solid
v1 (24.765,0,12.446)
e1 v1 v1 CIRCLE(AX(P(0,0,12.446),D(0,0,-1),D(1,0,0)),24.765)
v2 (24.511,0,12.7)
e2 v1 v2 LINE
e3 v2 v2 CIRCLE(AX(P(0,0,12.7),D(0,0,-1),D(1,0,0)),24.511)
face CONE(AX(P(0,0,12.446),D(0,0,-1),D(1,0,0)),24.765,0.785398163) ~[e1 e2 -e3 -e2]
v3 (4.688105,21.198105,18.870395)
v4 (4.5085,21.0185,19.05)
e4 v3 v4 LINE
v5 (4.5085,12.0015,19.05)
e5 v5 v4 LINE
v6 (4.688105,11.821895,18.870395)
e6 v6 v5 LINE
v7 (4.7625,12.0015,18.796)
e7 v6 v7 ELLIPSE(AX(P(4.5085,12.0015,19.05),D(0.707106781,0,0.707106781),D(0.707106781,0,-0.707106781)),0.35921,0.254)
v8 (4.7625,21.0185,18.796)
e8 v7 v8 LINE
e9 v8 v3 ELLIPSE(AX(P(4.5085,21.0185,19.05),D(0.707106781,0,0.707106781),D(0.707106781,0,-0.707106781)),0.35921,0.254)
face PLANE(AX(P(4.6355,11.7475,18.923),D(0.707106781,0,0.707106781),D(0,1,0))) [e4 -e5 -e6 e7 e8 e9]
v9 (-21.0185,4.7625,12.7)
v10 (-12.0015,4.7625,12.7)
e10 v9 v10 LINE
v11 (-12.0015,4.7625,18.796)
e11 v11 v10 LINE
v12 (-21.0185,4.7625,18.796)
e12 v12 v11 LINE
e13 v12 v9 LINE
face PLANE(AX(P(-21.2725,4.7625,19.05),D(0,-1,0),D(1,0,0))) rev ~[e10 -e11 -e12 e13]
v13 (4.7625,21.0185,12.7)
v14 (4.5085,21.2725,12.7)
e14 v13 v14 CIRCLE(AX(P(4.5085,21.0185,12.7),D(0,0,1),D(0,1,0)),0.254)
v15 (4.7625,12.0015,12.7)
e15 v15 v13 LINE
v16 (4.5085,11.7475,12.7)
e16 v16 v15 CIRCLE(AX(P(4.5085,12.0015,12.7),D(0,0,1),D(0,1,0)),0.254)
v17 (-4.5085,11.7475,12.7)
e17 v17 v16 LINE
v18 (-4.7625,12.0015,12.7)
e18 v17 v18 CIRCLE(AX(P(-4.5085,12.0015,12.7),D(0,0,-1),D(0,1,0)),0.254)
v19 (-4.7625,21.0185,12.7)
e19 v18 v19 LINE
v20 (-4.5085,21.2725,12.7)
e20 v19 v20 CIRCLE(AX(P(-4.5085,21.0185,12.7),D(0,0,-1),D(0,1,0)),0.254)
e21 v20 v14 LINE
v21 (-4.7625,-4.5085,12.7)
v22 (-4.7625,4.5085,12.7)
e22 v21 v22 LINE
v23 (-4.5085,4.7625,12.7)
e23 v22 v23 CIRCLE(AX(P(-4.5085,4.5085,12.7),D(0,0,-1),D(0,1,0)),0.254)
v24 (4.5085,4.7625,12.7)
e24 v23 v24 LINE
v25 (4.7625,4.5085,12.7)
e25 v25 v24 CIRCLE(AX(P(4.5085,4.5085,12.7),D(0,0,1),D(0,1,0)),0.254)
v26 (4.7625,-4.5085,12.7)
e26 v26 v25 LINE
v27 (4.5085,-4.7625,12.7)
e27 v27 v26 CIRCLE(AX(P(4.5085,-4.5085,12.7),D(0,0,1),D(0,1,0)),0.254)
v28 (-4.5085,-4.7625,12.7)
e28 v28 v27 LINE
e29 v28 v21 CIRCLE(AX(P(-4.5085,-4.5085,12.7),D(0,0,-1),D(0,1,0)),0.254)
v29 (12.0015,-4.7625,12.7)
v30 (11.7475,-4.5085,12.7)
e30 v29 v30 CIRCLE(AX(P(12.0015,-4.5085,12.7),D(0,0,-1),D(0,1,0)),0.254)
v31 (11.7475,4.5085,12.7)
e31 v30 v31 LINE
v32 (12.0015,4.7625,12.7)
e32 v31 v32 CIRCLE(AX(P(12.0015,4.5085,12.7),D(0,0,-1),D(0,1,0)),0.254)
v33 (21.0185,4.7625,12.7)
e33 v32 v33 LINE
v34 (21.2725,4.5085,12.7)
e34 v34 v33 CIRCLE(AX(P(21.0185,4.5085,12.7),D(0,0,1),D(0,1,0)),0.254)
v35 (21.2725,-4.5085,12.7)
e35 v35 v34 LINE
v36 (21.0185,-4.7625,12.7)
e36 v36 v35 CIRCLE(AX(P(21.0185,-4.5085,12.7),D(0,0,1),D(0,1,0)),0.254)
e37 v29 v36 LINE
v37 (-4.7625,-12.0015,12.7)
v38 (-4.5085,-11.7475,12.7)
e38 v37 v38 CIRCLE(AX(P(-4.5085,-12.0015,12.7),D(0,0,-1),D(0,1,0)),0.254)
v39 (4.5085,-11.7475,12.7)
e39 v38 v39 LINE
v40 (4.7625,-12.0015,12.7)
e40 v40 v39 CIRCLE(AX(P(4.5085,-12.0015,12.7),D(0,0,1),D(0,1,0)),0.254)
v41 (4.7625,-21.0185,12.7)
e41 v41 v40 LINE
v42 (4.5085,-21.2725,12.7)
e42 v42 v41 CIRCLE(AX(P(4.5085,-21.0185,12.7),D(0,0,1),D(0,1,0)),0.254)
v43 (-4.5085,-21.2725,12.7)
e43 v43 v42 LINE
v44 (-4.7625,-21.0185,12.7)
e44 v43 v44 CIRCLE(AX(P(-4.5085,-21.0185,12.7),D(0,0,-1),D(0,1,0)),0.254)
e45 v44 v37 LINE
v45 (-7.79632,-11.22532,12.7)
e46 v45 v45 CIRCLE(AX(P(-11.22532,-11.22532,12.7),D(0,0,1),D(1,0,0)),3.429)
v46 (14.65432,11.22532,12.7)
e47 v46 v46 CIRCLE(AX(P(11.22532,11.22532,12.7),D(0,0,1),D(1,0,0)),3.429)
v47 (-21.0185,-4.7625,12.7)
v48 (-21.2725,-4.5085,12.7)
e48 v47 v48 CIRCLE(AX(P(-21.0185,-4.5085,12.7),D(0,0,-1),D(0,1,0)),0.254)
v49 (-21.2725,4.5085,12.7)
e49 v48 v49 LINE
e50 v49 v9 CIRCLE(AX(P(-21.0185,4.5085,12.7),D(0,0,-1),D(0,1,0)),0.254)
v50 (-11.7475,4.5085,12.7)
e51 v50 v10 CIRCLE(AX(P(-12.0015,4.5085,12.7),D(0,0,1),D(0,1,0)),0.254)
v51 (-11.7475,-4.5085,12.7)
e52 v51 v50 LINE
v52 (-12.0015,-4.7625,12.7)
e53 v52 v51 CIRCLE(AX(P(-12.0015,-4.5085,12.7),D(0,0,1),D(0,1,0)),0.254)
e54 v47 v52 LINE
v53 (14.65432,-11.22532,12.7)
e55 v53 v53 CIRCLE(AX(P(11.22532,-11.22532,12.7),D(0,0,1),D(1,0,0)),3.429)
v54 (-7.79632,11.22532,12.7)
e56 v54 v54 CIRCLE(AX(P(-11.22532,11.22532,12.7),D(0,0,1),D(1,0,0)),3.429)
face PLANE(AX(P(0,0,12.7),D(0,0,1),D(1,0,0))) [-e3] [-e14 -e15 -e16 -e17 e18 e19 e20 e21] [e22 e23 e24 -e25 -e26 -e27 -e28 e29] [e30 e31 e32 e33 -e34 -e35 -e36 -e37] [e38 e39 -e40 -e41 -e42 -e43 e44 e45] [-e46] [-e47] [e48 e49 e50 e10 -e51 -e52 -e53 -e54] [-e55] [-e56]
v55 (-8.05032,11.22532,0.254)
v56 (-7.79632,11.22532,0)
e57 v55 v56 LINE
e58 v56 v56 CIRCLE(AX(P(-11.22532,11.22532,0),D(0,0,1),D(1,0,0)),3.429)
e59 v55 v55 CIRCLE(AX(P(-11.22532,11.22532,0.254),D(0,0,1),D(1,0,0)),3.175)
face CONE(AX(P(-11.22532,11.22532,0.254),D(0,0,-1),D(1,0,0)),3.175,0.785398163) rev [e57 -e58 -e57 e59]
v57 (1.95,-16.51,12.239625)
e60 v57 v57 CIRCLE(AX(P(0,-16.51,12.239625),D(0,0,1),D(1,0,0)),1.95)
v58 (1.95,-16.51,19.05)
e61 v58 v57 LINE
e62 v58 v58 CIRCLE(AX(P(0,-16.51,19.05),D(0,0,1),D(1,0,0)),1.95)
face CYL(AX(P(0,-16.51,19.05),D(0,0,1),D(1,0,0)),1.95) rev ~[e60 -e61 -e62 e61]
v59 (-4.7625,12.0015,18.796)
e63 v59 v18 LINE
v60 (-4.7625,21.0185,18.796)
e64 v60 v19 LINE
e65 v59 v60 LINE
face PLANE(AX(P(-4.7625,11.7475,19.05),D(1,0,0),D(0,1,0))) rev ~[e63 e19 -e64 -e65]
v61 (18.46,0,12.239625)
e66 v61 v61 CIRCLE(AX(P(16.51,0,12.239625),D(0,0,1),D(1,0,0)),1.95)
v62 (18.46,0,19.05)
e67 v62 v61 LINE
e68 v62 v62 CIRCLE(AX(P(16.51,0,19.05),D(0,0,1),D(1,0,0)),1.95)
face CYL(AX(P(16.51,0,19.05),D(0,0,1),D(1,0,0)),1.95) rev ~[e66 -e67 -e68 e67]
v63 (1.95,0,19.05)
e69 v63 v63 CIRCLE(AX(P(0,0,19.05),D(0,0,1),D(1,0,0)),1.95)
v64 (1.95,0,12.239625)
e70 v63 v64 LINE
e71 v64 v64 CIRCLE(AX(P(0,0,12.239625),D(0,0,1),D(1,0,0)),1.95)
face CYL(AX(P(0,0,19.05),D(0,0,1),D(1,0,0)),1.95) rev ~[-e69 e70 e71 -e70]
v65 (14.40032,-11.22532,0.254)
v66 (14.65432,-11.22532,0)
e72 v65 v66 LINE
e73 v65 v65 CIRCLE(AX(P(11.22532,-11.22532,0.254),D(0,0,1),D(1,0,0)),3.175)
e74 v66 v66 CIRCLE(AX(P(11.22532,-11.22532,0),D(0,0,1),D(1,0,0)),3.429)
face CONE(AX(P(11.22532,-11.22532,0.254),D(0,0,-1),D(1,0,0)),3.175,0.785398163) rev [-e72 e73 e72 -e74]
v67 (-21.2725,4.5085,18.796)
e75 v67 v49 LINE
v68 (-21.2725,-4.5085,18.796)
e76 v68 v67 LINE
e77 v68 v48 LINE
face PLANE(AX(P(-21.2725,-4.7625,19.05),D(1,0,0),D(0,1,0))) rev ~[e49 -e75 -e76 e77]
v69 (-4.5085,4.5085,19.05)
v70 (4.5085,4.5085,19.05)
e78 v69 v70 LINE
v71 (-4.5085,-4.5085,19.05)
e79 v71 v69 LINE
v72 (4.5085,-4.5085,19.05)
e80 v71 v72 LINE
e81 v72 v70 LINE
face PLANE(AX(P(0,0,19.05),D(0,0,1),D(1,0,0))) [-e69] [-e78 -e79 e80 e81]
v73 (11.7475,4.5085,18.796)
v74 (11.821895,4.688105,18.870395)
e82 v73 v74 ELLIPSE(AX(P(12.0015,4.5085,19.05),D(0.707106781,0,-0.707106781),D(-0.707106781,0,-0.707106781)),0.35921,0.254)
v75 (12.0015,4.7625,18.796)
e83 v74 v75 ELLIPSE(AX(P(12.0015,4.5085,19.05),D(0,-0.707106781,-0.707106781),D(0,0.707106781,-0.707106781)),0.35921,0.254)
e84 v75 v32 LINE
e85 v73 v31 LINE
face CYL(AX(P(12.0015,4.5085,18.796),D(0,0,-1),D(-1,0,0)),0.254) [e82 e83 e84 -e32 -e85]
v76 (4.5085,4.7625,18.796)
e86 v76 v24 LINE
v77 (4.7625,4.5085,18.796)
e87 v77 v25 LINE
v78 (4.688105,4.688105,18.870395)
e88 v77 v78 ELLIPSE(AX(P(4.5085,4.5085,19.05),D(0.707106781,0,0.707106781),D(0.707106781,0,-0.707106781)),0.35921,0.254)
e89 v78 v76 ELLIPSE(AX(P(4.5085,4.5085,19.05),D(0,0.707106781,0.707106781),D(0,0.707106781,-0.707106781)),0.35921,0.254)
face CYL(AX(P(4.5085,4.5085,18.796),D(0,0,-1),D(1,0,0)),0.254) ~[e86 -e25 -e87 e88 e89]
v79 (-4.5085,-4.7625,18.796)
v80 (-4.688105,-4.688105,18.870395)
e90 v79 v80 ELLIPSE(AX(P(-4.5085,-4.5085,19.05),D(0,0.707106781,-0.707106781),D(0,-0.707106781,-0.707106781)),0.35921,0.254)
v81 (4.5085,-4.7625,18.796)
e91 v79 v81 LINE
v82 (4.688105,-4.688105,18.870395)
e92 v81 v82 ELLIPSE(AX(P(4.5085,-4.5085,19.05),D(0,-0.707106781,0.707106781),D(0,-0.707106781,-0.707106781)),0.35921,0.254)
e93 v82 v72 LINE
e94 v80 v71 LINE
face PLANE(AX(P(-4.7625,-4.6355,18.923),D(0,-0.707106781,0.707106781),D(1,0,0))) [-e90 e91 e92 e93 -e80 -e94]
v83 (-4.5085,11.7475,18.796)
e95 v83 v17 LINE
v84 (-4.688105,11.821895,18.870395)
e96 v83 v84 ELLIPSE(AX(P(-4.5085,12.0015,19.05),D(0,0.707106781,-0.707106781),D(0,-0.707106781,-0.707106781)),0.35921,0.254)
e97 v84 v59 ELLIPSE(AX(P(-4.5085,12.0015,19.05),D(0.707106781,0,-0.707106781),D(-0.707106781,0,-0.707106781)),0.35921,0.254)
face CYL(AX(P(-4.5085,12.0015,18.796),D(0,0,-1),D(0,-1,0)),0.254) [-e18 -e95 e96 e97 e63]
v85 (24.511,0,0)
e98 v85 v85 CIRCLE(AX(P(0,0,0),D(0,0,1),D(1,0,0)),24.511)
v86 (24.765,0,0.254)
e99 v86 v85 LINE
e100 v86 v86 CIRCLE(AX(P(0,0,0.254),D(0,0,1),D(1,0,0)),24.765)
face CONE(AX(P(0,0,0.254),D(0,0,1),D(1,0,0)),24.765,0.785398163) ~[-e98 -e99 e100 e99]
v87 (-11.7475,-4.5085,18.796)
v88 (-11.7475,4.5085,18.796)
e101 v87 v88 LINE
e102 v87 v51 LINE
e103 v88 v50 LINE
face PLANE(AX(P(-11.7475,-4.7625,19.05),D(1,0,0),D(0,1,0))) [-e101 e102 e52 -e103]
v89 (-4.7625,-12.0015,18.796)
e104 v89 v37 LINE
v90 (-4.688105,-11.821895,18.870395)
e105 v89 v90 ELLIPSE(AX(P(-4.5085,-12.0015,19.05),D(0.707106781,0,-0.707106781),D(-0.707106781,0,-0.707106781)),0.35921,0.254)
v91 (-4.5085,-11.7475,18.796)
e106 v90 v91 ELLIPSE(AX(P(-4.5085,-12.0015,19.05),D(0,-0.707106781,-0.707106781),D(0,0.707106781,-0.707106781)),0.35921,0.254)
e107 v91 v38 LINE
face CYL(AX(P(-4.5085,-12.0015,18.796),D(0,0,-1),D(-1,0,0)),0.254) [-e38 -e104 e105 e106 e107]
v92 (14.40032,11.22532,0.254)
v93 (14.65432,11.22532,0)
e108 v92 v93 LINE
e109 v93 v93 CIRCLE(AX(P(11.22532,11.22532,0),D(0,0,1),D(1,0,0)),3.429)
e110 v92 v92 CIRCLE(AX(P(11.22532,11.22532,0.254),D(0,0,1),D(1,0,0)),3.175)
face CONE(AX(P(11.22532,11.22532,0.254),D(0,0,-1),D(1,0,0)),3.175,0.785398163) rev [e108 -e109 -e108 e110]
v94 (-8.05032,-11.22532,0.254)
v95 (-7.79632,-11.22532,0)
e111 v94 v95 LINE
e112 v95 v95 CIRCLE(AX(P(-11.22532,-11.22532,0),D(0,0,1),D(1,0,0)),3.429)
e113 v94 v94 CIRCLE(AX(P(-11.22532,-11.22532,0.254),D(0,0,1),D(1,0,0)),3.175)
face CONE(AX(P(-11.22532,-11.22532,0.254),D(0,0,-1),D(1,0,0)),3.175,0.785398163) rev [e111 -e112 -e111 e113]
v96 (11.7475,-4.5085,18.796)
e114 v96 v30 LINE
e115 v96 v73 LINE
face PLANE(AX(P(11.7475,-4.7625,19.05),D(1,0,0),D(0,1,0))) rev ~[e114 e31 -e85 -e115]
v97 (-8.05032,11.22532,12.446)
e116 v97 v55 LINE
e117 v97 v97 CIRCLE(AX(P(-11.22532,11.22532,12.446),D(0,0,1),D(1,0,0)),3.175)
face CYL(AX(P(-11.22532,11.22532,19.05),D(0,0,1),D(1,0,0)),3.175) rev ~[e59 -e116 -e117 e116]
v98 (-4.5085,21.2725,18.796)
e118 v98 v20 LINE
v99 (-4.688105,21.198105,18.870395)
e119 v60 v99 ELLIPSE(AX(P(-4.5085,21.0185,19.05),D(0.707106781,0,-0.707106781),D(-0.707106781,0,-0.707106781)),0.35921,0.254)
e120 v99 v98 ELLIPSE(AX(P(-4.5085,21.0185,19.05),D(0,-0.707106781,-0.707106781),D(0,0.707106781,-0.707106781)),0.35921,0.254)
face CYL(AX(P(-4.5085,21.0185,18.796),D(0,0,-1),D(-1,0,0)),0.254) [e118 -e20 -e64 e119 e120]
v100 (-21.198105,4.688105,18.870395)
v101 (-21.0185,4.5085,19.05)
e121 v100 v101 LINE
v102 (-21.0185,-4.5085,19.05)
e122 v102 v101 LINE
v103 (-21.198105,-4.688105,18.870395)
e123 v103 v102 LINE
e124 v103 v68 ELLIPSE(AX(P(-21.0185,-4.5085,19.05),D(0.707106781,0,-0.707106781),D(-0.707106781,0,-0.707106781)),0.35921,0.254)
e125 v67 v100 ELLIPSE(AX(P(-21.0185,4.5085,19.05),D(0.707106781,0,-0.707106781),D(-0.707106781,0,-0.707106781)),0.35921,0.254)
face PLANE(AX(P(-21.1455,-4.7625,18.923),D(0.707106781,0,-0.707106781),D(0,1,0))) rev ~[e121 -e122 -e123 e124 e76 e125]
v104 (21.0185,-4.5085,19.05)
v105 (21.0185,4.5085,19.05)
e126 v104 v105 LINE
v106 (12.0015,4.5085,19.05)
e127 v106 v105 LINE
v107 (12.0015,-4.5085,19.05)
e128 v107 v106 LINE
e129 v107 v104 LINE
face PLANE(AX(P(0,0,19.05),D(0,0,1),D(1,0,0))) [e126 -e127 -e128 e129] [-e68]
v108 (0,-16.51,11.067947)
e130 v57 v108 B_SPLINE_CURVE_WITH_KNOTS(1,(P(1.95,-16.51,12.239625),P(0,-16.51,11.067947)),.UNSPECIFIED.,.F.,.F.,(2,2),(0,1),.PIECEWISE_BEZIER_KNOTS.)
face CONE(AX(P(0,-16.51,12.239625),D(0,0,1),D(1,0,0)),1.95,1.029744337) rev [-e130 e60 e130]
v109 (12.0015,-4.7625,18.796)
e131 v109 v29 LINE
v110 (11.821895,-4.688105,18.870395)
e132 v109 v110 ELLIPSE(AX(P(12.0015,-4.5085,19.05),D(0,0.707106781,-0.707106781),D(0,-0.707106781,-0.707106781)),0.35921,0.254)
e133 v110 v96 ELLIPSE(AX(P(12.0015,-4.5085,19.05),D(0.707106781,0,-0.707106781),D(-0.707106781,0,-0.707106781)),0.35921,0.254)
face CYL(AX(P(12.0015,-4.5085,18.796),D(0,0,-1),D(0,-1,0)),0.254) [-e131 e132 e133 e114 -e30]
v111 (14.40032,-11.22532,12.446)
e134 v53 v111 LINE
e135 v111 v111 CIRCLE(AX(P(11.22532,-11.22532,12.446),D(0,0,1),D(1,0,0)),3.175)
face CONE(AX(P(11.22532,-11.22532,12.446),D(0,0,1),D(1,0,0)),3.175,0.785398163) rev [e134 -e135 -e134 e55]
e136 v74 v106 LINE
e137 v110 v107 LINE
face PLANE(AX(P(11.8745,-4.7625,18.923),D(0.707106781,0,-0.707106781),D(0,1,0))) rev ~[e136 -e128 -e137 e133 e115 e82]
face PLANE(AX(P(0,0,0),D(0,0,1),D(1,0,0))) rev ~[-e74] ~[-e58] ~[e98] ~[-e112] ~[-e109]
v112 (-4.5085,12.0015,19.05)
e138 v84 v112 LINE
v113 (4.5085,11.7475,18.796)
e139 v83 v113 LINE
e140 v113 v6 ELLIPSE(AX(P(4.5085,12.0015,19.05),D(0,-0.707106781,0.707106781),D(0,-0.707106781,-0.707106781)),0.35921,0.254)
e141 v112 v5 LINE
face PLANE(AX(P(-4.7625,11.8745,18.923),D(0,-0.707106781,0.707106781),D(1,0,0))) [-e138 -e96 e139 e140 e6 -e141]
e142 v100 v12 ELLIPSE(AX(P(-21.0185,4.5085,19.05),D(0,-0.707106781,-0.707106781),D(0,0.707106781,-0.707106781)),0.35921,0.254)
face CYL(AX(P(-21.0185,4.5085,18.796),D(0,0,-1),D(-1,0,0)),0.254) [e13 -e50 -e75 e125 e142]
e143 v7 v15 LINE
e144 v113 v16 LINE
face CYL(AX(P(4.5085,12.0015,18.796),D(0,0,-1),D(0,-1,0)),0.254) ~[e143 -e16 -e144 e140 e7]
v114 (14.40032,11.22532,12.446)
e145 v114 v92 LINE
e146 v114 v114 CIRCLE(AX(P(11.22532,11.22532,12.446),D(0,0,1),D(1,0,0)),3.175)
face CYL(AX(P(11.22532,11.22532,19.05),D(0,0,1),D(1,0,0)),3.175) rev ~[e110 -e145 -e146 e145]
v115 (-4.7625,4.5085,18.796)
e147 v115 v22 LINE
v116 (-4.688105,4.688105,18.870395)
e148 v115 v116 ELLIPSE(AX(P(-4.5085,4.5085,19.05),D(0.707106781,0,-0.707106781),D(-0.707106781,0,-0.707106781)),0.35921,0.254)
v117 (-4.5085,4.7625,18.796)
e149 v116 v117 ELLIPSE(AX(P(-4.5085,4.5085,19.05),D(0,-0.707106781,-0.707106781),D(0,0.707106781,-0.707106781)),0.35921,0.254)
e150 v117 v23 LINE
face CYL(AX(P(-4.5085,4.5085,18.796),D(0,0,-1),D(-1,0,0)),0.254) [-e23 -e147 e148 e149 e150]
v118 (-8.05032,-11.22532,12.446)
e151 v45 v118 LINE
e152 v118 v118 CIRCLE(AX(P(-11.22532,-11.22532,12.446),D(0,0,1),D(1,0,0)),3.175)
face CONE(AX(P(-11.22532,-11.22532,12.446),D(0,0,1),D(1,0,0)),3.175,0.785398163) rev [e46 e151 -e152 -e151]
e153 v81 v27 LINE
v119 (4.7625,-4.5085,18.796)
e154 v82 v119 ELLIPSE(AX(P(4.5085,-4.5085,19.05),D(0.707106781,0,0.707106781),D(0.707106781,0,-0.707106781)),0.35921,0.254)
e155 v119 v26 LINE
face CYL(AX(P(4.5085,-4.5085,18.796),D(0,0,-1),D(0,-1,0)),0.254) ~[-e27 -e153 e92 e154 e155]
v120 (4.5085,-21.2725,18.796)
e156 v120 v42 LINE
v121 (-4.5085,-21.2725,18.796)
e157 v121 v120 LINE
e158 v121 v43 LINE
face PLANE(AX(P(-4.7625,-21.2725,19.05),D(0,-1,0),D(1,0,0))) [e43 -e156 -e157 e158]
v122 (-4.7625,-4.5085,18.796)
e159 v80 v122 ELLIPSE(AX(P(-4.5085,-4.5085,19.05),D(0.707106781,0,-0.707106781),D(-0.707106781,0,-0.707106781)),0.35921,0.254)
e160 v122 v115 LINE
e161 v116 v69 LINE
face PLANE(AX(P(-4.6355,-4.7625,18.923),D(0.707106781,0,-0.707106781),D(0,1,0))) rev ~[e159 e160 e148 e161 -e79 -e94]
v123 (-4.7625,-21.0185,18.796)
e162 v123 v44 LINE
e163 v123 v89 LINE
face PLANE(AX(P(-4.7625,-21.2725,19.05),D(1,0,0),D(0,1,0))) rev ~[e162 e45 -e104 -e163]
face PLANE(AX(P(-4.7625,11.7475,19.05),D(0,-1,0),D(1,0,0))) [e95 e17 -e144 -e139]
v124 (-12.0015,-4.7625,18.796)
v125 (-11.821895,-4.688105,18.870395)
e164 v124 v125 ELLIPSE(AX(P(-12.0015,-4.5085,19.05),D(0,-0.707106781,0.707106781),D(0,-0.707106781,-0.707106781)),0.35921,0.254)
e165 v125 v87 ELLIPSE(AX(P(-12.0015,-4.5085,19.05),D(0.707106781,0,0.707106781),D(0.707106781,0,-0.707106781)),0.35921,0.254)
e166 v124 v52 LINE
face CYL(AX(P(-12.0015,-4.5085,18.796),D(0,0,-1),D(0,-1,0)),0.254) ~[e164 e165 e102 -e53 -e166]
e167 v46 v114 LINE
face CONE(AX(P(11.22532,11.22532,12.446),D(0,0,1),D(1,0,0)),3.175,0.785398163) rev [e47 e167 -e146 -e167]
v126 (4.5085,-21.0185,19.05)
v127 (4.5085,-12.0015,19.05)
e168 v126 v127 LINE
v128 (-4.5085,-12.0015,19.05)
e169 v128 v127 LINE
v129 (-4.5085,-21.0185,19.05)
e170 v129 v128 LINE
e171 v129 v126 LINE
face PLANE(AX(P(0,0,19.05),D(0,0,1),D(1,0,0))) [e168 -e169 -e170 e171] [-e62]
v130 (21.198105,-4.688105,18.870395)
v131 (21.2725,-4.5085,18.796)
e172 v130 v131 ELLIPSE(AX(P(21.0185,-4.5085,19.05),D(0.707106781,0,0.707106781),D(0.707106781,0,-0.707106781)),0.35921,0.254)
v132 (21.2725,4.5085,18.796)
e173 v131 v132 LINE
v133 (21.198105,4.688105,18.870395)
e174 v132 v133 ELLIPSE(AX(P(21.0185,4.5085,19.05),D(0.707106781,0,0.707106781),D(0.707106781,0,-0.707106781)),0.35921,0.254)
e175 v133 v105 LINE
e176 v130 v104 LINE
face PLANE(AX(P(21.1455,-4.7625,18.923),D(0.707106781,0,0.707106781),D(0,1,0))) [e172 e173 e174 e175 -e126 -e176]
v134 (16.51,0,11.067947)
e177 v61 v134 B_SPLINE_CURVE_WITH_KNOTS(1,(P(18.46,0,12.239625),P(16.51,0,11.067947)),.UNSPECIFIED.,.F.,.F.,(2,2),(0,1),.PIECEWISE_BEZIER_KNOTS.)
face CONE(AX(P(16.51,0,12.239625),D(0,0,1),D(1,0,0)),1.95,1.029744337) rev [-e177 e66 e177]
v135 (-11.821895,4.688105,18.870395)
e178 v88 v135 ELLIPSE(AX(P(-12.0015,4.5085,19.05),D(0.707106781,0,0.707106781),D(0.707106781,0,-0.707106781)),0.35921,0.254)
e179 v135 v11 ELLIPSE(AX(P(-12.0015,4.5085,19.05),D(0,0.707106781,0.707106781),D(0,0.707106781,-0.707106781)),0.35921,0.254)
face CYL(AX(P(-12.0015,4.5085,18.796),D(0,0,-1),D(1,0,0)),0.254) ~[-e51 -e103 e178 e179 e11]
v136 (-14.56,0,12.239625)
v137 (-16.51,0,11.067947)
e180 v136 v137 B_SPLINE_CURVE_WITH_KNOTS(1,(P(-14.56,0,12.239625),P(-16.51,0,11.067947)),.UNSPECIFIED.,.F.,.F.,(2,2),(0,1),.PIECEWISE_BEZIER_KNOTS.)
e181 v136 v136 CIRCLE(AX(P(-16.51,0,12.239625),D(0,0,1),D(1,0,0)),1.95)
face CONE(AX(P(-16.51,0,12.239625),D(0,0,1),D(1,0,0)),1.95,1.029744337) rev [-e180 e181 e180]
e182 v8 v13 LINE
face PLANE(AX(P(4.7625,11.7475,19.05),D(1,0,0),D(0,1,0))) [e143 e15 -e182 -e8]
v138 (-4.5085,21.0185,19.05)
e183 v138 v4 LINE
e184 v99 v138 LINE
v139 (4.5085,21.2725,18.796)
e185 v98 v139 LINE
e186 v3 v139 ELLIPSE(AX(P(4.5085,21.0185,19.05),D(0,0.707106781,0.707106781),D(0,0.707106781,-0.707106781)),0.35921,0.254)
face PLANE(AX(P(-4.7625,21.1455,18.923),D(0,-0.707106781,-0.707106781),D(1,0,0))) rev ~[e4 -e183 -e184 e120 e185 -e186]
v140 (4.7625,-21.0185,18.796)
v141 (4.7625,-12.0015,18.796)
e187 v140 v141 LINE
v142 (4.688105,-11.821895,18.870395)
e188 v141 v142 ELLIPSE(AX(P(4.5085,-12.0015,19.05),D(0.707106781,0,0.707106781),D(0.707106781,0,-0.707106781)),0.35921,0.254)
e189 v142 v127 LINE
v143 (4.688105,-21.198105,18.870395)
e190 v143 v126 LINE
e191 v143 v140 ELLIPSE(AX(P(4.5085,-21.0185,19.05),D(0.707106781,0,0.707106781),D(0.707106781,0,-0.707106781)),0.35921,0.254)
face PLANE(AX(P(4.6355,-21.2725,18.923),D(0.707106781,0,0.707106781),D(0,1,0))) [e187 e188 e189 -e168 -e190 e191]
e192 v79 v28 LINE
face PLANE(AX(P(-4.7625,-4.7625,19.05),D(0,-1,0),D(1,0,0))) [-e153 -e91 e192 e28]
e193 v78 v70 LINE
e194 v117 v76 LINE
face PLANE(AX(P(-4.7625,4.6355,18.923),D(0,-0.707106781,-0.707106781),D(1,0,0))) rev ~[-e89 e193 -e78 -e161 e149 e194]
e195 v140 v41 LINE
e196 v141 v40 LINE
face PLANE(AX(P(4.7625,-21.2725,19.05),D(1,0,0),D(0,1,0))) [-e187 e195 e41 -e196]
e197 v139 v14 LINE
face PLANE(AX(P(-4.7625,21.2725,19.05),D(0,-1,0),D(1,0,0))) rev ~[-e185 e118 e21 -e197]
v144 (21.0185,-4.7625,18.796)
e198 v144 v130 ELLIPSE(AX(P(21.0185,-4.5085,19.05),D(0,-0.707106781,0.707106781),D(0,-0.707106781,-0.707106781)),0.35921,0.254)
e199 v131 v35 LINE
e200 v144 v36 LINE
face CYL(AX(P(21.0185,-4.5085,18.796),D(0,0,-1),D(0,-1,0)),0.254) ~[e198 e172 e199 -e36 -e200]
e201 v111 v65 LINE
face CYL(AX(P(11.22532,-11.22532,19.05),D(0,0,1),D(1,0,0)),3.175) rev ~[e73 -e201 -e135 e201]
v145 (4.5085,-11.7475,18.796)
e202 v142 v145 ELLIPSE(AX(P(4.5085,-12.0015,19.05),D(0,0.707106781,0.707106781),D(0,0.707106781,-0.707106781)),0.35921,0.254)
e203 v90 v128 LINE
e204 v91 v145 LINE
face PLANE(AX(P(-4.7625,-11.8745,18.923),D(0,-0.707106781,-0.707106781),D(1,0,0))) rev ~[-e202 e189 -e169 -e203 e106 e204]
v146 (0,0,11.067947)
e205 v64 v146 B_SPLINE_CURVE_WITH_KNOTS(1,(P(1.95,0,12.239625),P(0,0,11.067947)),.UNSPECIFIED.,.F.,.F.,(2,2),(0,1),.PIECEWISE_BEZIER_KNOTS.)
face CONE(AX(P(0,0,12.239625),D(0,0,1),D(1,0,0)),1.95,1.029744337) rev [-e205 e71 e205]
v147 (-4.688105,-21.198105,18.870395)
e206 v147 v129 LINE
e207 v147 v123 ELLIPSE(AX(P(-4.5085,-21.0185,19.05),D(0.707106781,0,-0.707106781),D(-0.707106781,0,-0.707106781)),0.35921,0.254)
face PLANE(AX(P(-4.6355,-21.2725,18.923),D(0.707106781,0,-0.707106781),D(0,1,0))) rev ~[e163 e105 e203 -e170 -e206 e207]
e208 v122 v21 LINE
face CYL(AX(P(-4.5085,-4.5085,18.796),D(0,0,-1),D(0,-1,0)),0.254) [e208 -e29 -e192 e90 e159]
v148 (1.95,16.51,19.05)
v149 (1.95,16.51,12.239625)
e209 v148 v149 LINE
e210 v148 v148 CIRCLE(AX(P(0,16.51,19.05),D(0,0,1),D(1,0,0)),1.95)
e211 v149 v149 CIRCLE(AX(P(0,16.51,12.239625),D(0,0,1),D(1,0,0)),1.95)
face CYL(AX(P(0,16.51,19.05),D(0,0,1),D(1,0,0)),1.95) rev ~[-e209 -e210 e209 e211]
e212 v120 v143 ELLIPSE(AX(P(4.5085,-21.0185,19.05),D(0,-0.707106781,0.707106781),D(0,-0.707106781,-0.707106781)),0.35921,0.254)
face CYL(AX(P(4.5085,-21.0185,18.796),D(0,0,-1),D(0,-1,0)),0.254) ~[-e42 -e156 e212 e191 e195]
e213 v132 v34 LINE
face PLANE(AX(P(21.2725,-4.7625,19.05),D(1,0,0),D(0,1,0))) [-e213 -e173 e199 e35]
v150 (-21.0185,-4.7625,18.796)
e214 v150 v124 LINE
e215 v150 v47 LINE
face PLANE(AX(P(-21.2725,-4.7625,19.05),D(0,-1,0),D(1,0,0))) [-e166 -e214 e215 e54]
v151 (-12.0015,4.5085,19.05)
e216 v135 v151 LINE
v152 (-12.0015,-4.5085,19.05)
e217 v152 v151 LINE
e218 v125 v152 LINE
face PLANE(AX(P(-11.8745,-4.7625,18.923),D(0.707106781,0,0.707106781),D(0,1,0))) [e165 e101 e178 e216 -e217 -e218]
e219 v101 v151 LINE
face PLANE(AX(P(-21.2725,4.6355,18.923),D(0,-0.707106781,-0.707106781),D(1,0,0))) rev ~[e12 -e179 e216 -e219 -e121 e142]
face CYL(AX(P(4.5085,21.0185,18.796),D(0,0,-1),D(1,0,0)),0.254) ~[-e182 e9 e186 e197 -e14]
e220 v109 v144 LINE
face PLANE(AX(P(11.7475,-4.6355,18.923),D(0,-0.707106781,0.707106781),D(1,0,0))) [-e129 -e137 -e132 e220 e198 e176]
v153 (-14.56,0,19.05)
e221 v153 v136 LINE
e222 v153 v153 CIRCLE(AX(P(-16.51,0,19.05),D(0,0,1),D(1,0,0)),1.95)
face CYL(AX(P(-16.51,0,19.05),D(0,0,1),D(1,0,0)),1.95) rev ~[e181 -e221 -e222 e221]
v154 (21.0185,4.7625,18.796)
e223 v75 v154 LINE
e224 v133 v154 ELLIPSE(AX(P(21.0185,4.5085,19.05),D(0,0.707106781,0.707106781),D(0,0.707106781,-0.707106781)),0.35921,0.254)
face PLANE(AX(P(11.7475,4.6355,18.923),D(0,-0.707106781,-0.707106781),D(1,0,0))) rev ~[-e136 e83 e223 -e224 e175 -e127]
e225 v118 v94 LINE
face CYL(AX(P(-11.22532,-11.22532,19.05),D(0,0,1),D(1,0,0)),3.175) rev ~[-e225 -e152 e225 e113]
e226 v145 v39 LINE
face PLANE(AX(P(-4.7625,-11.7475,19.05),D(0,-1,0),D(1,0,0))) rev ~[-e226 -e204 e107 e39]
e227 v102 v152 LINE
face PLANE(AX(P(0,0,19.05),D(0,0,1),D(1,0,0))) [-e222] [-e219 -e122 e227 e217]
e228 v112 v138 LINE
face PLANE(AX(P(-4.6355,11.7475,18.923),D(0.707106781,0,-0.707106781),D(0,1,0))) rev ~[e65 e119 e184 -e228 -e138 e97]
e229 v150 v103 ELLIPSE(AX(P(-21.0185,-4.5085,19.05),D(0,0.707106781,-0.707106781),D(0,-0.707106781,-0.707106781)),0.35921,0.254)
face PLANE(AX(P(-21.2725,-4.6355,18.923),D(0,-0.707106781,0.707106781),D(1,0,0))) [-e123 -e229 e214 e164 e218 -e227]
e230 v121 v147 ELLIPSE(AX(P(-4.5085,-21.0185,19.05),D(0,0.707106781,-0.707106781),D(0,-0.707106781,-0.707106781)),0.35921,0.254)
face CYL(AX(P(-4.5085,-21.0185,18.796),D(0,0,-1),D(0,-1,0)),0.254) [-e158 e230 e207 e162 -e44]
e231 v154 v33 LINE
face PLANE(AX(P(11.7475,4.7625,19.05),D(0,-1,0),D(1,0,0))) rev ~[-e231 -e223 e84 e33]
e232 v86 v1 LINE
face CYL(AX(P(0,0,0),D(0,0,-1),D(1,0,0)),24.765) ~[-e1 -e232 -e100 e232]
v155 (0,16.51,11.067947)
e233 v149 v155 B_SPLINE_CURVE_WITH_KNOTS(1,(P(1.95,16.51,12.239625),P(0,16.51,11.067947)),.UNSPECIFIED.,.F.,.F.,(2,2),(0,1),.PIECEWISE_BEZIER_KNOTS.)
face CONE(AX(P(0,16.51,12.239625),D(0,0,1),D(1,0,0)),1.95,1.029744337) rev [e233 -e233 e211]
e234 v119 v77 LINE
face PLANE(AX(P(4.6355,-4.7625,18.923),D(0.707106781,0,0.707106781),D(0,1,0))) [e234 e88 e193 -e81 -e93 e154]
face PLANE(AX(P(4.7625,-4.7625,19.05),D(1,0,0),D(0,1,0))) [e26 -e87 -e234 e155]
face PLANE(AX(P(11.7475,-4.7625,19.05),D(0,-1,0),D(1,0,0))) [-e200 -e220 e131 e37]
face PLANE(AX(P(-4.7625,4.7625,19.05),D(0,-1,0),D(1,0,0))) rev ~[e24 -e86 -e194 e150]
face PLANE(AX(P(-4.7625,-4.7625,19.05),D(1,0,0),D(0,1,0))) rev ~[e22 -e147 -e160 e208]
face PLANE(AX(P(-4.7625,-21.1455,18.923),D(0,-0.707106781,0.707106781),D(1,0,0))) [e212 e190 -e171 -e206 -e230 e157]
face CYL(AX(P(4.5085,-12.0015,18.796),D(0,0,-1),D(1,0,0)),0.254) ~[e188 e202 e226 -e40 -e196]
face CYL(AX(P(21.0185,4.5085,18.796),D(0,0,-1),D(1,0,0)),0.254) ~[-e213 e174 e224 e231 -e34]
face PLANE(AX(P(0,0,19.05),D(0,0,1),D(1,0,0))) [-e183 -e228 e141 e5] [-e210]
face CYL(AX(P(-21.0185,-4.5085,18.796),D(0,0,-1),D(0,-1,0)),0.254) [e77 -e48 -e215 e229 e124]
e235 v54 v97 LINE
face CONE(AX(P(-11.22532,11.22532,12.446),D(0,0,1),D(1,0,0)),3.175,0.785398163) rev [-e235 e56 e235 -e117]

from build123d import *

# Parameters (mm, degrees)
CYLINDER_R      = 24.765
CYLINDER_DEPTH  = 19.05
SKETCH_R        = 3.175
POCKET_DEPTH    = 19.05
SKETCH001_R     = 25.4
SKETCH001_W     = 9.525
SKETCH001_H     = 9.525
POCKET001_DEPTH = 6.35
SKETCH002_R     = 1.95
HOLE_DEPTH      = 6.810375
HOLE_TIPS_R     = 1.95
CHAMFER_SIZE    = 0.254
FILLET_R        = 0.254
CHAMFER001_SIZE = 0.254


with BuildPart() as part:
    # Cylinder → Cylinder (join)
    with BuildSketch(Plane.XY):
        Circle(CYLINDER_R)
    extrude(amount=CYLINDER_DEPTH)

    # Sketch (on Face3 of Cylinder) → Pocket (cut)
    with BuildSketch(Plane.XY.offset(19.05)):
        with Locations((11.22532, 11.22532)):
            Circle(SKETCH_R)
        with Locations((-11.22532, 11.22532)):
            Circle(SKETCH_R)
        with Locations((-11.22532, -11.22532)):
            Circle(SKETCH_R)
        with Locations((11.22532, -11.22532)):
            Circle(SKETCH_R)
    extrude(amount=-POCKET_DEPTH, mode=Mode.SUBTRACT)

    # Sketch001 (on Face3 of Pocket) → Pocket001 (cut)
    with BuildSketch(Plane.XY.offset(19.05)):
        Circle(SKETCH001_R)
        Rectangle(SKETCH001_W, SKETCH001_H, mode=Mode.SUBTRACT)
        with Locations((0, 16.51)):
            Rectangle(SKETCH001_W, SKETCH001_H, mode=Mode.SUBTRACT)
        with Locations((-16.51, 0)):
            Rectangle(SKETCH001_W, SKETCH001_H, mode=Mode.SUBTRACT)
        with Locations((0, -16.51)):
            Rectangle(SKETCH001_W, SKETCH001_H, mode=Mode.SUBTRACT)
        with Locations((16.51, 0)):
            Rectangle(SKETCH001_W, SKETCH001_H, mode=Mode.SUBTRACT)
    extrude(amount=-POCKET001_DEPTH, mode=Mode.SUBTRACT)

    # Sketch002 (on Face30 of Pocket001) → Hole (cut)
    with BuildSketch(Plane.XY.offset(19.05)):
        with Locations((0, 16.51)):
            Circle(SKETCH002_R)
        with Locations((16.51, 0)):
            Circle(SKETCH002_R)
        with Locations((-16.51, 0)):
            Circle(SKETCH002_R)
        with Locations((0, -16.51)):
            Circle(SKETCH002_R)
        Circle(SKETCH002_R)
    extrude(amount=-HOLE_DEPTH, mode=Mode.SUBTRACT)

    # Hole tips → Hole tip 1 section 0
    with BuildSketch(Plane.XY.offset(12.239625), mode=Mode.PRIVATE) as hole_tip_1_s0:
        with Locations((0, 16.51)):
            Circle(HOLE_TIPS_R)
    loft([hole_tip_1_s0.sketch, Vertex(0, 16.51, 11.067947)], mode=Mode.SUBTRACT)

    # Hole tips → Hole tip 2 section 0
    with BuildSketch(Plane.XY.offset(12.239625), mode=Mode.PRIVATE) as hole_tip_2_s0:
        with Locations((16.51, 0)):
            Circle(HOLE_TIPS_R)
    loft([hole_tip_2_s0.sketch, Vertex(16.51, 0, 11.067947)], mode=Mode.SUBTRACT)

    # Hole tips → Hole tip 3 section 0
    with BuildSketch(Plane.XY.offset(12.239625), mode=Mode.PRIVATE) as hole_tip_3_s0:
        with Locations((-16.51, 0)):
            Circle(HOLE_TIPS_R)
    loft([hole_tip_3_s0.sketch, Vertex(-16.51, 0, 11.067947)], mode=Mode.SUBTRACT)

    # Hole tips → Hole tip 4 section 0
    with BuildSketch(Plane.XY.offset(12.239625), mode=Mode.PRIVATE) as hole_tip_4_s0:
        with Locations((0, -16.51)):
            Circle(HOLE_TIPS_R)
    loft([hole_tip_4_s0.sketch, Vertex(0, -16.51, 11.067947)], mode=Mode.SUBTRACT)

    # Hole tips → Hole tip 5 section 0
    with BuildSketch(Plane.XY.offset(12.239625), mode=Mode.PRIVATE) as hole_tip_5_s0:
        Circle(HOLE_TIPS_R)
    loft([hole_tip_5_s0.sketch, Vertex(0, 0, 11.067947)], mode=Mode.SUBTRACT)

    # Chamfer
    chamfer_edges = [part.edges().sort_by_distance(p)[0] for p in [
        (0, -21.2725, 19.05),
        (-16.51, -4.7625, 19.05),
        (-24.765, 0, 12.7),
        (0, -4.7625, 19.05),
        (0, 11.7475, 19.05),
        (16.51, -4.7625, 19.05),
        (8.05032, 11.22532, 12.7),
        (-14.40032, 11.22532, 12.7),
        (-14.40032, -11.22532, 12.7),
        (8.05032, -11.22532, 12.7),
        (4.7625, -16.51, 19.05),
        (0, -11.7475, 19.05),
        (-4.7625, -16.51, 19.05),
        (-4.7625, 0, 19.05),
        (0, 4.7625, 19.05),
        (4.7625, 0, 19.05),
        (21.2725, 0, 19.05),
        (11.7475, 0, 19.05),
        (16.51, 4.7625, 19.05),
        (-4.7625, 16.51, 19.05),
        (0, 21.2725, 19.05),
        (4.7625, 16.51, 19.05),
        (-11.7475, 0, 19.05),
        (-16.51, 4.7625, 19.05),
        (-21.2725, 0, 19.05),
    ]]
    chamfer(chamfer_edges, length=CHAMFER_SIZE)

    # Fillet
    fillet_edges = [part.edges().sort_by_distance(p)[0] for p in [
        (4.7625, -21.2725, 15.748),
        (4.7625, -11.7475, 15.748),
        (-4.7625, -21.2725, 15.748),
        (-4.7625, -11.7475, 15.748),
        (-21.2725, -4.7625, 15.748),
        (-11.7475, -4.7625, 15.748),
        (-4.7625, -4.7625, 15.748),
        (4.7625, -4.7625, 15.748),
        (11.7475, -4.7625, 15.748),
        (21.2725, -4.7625, 15.748),
        (-4.7625, 11.7475, 15.748),
        (4.7625, 11.7475, 15.748),
        (21.2725, 4.7625, 15.748),
        (11.7475, 4.7625, 15.748),
        (4.7625, 4.7625, 15.748),
        (-4.7625, 4.7625, 15.748),
        (-11.7475, 4.7625, 15.748),
        (-21.2725, 4.7625, 15.748),
        (4.7625, 21.2725, 15.748),
        (-4.7625, 21.2725, 15.748),
    ]]
    fillet(fillet_edges, radius=FILLET_R)

    # Chamfer001
    chamfer001_edges = [part.edges().sort_by_distance(p)[0] for p in [
        (-24.765, 0, 0),
        (8.05032, -11.22532, 0),
        (8.05032, 11.22532, 0),
        (-14.40032, 11.22532, 0),
        (-14.40032, -11.22532, 0),
    ]]
    chamfer(chamfer001_edges, length=CHAMFER001_SIZE)


solid = part.part
